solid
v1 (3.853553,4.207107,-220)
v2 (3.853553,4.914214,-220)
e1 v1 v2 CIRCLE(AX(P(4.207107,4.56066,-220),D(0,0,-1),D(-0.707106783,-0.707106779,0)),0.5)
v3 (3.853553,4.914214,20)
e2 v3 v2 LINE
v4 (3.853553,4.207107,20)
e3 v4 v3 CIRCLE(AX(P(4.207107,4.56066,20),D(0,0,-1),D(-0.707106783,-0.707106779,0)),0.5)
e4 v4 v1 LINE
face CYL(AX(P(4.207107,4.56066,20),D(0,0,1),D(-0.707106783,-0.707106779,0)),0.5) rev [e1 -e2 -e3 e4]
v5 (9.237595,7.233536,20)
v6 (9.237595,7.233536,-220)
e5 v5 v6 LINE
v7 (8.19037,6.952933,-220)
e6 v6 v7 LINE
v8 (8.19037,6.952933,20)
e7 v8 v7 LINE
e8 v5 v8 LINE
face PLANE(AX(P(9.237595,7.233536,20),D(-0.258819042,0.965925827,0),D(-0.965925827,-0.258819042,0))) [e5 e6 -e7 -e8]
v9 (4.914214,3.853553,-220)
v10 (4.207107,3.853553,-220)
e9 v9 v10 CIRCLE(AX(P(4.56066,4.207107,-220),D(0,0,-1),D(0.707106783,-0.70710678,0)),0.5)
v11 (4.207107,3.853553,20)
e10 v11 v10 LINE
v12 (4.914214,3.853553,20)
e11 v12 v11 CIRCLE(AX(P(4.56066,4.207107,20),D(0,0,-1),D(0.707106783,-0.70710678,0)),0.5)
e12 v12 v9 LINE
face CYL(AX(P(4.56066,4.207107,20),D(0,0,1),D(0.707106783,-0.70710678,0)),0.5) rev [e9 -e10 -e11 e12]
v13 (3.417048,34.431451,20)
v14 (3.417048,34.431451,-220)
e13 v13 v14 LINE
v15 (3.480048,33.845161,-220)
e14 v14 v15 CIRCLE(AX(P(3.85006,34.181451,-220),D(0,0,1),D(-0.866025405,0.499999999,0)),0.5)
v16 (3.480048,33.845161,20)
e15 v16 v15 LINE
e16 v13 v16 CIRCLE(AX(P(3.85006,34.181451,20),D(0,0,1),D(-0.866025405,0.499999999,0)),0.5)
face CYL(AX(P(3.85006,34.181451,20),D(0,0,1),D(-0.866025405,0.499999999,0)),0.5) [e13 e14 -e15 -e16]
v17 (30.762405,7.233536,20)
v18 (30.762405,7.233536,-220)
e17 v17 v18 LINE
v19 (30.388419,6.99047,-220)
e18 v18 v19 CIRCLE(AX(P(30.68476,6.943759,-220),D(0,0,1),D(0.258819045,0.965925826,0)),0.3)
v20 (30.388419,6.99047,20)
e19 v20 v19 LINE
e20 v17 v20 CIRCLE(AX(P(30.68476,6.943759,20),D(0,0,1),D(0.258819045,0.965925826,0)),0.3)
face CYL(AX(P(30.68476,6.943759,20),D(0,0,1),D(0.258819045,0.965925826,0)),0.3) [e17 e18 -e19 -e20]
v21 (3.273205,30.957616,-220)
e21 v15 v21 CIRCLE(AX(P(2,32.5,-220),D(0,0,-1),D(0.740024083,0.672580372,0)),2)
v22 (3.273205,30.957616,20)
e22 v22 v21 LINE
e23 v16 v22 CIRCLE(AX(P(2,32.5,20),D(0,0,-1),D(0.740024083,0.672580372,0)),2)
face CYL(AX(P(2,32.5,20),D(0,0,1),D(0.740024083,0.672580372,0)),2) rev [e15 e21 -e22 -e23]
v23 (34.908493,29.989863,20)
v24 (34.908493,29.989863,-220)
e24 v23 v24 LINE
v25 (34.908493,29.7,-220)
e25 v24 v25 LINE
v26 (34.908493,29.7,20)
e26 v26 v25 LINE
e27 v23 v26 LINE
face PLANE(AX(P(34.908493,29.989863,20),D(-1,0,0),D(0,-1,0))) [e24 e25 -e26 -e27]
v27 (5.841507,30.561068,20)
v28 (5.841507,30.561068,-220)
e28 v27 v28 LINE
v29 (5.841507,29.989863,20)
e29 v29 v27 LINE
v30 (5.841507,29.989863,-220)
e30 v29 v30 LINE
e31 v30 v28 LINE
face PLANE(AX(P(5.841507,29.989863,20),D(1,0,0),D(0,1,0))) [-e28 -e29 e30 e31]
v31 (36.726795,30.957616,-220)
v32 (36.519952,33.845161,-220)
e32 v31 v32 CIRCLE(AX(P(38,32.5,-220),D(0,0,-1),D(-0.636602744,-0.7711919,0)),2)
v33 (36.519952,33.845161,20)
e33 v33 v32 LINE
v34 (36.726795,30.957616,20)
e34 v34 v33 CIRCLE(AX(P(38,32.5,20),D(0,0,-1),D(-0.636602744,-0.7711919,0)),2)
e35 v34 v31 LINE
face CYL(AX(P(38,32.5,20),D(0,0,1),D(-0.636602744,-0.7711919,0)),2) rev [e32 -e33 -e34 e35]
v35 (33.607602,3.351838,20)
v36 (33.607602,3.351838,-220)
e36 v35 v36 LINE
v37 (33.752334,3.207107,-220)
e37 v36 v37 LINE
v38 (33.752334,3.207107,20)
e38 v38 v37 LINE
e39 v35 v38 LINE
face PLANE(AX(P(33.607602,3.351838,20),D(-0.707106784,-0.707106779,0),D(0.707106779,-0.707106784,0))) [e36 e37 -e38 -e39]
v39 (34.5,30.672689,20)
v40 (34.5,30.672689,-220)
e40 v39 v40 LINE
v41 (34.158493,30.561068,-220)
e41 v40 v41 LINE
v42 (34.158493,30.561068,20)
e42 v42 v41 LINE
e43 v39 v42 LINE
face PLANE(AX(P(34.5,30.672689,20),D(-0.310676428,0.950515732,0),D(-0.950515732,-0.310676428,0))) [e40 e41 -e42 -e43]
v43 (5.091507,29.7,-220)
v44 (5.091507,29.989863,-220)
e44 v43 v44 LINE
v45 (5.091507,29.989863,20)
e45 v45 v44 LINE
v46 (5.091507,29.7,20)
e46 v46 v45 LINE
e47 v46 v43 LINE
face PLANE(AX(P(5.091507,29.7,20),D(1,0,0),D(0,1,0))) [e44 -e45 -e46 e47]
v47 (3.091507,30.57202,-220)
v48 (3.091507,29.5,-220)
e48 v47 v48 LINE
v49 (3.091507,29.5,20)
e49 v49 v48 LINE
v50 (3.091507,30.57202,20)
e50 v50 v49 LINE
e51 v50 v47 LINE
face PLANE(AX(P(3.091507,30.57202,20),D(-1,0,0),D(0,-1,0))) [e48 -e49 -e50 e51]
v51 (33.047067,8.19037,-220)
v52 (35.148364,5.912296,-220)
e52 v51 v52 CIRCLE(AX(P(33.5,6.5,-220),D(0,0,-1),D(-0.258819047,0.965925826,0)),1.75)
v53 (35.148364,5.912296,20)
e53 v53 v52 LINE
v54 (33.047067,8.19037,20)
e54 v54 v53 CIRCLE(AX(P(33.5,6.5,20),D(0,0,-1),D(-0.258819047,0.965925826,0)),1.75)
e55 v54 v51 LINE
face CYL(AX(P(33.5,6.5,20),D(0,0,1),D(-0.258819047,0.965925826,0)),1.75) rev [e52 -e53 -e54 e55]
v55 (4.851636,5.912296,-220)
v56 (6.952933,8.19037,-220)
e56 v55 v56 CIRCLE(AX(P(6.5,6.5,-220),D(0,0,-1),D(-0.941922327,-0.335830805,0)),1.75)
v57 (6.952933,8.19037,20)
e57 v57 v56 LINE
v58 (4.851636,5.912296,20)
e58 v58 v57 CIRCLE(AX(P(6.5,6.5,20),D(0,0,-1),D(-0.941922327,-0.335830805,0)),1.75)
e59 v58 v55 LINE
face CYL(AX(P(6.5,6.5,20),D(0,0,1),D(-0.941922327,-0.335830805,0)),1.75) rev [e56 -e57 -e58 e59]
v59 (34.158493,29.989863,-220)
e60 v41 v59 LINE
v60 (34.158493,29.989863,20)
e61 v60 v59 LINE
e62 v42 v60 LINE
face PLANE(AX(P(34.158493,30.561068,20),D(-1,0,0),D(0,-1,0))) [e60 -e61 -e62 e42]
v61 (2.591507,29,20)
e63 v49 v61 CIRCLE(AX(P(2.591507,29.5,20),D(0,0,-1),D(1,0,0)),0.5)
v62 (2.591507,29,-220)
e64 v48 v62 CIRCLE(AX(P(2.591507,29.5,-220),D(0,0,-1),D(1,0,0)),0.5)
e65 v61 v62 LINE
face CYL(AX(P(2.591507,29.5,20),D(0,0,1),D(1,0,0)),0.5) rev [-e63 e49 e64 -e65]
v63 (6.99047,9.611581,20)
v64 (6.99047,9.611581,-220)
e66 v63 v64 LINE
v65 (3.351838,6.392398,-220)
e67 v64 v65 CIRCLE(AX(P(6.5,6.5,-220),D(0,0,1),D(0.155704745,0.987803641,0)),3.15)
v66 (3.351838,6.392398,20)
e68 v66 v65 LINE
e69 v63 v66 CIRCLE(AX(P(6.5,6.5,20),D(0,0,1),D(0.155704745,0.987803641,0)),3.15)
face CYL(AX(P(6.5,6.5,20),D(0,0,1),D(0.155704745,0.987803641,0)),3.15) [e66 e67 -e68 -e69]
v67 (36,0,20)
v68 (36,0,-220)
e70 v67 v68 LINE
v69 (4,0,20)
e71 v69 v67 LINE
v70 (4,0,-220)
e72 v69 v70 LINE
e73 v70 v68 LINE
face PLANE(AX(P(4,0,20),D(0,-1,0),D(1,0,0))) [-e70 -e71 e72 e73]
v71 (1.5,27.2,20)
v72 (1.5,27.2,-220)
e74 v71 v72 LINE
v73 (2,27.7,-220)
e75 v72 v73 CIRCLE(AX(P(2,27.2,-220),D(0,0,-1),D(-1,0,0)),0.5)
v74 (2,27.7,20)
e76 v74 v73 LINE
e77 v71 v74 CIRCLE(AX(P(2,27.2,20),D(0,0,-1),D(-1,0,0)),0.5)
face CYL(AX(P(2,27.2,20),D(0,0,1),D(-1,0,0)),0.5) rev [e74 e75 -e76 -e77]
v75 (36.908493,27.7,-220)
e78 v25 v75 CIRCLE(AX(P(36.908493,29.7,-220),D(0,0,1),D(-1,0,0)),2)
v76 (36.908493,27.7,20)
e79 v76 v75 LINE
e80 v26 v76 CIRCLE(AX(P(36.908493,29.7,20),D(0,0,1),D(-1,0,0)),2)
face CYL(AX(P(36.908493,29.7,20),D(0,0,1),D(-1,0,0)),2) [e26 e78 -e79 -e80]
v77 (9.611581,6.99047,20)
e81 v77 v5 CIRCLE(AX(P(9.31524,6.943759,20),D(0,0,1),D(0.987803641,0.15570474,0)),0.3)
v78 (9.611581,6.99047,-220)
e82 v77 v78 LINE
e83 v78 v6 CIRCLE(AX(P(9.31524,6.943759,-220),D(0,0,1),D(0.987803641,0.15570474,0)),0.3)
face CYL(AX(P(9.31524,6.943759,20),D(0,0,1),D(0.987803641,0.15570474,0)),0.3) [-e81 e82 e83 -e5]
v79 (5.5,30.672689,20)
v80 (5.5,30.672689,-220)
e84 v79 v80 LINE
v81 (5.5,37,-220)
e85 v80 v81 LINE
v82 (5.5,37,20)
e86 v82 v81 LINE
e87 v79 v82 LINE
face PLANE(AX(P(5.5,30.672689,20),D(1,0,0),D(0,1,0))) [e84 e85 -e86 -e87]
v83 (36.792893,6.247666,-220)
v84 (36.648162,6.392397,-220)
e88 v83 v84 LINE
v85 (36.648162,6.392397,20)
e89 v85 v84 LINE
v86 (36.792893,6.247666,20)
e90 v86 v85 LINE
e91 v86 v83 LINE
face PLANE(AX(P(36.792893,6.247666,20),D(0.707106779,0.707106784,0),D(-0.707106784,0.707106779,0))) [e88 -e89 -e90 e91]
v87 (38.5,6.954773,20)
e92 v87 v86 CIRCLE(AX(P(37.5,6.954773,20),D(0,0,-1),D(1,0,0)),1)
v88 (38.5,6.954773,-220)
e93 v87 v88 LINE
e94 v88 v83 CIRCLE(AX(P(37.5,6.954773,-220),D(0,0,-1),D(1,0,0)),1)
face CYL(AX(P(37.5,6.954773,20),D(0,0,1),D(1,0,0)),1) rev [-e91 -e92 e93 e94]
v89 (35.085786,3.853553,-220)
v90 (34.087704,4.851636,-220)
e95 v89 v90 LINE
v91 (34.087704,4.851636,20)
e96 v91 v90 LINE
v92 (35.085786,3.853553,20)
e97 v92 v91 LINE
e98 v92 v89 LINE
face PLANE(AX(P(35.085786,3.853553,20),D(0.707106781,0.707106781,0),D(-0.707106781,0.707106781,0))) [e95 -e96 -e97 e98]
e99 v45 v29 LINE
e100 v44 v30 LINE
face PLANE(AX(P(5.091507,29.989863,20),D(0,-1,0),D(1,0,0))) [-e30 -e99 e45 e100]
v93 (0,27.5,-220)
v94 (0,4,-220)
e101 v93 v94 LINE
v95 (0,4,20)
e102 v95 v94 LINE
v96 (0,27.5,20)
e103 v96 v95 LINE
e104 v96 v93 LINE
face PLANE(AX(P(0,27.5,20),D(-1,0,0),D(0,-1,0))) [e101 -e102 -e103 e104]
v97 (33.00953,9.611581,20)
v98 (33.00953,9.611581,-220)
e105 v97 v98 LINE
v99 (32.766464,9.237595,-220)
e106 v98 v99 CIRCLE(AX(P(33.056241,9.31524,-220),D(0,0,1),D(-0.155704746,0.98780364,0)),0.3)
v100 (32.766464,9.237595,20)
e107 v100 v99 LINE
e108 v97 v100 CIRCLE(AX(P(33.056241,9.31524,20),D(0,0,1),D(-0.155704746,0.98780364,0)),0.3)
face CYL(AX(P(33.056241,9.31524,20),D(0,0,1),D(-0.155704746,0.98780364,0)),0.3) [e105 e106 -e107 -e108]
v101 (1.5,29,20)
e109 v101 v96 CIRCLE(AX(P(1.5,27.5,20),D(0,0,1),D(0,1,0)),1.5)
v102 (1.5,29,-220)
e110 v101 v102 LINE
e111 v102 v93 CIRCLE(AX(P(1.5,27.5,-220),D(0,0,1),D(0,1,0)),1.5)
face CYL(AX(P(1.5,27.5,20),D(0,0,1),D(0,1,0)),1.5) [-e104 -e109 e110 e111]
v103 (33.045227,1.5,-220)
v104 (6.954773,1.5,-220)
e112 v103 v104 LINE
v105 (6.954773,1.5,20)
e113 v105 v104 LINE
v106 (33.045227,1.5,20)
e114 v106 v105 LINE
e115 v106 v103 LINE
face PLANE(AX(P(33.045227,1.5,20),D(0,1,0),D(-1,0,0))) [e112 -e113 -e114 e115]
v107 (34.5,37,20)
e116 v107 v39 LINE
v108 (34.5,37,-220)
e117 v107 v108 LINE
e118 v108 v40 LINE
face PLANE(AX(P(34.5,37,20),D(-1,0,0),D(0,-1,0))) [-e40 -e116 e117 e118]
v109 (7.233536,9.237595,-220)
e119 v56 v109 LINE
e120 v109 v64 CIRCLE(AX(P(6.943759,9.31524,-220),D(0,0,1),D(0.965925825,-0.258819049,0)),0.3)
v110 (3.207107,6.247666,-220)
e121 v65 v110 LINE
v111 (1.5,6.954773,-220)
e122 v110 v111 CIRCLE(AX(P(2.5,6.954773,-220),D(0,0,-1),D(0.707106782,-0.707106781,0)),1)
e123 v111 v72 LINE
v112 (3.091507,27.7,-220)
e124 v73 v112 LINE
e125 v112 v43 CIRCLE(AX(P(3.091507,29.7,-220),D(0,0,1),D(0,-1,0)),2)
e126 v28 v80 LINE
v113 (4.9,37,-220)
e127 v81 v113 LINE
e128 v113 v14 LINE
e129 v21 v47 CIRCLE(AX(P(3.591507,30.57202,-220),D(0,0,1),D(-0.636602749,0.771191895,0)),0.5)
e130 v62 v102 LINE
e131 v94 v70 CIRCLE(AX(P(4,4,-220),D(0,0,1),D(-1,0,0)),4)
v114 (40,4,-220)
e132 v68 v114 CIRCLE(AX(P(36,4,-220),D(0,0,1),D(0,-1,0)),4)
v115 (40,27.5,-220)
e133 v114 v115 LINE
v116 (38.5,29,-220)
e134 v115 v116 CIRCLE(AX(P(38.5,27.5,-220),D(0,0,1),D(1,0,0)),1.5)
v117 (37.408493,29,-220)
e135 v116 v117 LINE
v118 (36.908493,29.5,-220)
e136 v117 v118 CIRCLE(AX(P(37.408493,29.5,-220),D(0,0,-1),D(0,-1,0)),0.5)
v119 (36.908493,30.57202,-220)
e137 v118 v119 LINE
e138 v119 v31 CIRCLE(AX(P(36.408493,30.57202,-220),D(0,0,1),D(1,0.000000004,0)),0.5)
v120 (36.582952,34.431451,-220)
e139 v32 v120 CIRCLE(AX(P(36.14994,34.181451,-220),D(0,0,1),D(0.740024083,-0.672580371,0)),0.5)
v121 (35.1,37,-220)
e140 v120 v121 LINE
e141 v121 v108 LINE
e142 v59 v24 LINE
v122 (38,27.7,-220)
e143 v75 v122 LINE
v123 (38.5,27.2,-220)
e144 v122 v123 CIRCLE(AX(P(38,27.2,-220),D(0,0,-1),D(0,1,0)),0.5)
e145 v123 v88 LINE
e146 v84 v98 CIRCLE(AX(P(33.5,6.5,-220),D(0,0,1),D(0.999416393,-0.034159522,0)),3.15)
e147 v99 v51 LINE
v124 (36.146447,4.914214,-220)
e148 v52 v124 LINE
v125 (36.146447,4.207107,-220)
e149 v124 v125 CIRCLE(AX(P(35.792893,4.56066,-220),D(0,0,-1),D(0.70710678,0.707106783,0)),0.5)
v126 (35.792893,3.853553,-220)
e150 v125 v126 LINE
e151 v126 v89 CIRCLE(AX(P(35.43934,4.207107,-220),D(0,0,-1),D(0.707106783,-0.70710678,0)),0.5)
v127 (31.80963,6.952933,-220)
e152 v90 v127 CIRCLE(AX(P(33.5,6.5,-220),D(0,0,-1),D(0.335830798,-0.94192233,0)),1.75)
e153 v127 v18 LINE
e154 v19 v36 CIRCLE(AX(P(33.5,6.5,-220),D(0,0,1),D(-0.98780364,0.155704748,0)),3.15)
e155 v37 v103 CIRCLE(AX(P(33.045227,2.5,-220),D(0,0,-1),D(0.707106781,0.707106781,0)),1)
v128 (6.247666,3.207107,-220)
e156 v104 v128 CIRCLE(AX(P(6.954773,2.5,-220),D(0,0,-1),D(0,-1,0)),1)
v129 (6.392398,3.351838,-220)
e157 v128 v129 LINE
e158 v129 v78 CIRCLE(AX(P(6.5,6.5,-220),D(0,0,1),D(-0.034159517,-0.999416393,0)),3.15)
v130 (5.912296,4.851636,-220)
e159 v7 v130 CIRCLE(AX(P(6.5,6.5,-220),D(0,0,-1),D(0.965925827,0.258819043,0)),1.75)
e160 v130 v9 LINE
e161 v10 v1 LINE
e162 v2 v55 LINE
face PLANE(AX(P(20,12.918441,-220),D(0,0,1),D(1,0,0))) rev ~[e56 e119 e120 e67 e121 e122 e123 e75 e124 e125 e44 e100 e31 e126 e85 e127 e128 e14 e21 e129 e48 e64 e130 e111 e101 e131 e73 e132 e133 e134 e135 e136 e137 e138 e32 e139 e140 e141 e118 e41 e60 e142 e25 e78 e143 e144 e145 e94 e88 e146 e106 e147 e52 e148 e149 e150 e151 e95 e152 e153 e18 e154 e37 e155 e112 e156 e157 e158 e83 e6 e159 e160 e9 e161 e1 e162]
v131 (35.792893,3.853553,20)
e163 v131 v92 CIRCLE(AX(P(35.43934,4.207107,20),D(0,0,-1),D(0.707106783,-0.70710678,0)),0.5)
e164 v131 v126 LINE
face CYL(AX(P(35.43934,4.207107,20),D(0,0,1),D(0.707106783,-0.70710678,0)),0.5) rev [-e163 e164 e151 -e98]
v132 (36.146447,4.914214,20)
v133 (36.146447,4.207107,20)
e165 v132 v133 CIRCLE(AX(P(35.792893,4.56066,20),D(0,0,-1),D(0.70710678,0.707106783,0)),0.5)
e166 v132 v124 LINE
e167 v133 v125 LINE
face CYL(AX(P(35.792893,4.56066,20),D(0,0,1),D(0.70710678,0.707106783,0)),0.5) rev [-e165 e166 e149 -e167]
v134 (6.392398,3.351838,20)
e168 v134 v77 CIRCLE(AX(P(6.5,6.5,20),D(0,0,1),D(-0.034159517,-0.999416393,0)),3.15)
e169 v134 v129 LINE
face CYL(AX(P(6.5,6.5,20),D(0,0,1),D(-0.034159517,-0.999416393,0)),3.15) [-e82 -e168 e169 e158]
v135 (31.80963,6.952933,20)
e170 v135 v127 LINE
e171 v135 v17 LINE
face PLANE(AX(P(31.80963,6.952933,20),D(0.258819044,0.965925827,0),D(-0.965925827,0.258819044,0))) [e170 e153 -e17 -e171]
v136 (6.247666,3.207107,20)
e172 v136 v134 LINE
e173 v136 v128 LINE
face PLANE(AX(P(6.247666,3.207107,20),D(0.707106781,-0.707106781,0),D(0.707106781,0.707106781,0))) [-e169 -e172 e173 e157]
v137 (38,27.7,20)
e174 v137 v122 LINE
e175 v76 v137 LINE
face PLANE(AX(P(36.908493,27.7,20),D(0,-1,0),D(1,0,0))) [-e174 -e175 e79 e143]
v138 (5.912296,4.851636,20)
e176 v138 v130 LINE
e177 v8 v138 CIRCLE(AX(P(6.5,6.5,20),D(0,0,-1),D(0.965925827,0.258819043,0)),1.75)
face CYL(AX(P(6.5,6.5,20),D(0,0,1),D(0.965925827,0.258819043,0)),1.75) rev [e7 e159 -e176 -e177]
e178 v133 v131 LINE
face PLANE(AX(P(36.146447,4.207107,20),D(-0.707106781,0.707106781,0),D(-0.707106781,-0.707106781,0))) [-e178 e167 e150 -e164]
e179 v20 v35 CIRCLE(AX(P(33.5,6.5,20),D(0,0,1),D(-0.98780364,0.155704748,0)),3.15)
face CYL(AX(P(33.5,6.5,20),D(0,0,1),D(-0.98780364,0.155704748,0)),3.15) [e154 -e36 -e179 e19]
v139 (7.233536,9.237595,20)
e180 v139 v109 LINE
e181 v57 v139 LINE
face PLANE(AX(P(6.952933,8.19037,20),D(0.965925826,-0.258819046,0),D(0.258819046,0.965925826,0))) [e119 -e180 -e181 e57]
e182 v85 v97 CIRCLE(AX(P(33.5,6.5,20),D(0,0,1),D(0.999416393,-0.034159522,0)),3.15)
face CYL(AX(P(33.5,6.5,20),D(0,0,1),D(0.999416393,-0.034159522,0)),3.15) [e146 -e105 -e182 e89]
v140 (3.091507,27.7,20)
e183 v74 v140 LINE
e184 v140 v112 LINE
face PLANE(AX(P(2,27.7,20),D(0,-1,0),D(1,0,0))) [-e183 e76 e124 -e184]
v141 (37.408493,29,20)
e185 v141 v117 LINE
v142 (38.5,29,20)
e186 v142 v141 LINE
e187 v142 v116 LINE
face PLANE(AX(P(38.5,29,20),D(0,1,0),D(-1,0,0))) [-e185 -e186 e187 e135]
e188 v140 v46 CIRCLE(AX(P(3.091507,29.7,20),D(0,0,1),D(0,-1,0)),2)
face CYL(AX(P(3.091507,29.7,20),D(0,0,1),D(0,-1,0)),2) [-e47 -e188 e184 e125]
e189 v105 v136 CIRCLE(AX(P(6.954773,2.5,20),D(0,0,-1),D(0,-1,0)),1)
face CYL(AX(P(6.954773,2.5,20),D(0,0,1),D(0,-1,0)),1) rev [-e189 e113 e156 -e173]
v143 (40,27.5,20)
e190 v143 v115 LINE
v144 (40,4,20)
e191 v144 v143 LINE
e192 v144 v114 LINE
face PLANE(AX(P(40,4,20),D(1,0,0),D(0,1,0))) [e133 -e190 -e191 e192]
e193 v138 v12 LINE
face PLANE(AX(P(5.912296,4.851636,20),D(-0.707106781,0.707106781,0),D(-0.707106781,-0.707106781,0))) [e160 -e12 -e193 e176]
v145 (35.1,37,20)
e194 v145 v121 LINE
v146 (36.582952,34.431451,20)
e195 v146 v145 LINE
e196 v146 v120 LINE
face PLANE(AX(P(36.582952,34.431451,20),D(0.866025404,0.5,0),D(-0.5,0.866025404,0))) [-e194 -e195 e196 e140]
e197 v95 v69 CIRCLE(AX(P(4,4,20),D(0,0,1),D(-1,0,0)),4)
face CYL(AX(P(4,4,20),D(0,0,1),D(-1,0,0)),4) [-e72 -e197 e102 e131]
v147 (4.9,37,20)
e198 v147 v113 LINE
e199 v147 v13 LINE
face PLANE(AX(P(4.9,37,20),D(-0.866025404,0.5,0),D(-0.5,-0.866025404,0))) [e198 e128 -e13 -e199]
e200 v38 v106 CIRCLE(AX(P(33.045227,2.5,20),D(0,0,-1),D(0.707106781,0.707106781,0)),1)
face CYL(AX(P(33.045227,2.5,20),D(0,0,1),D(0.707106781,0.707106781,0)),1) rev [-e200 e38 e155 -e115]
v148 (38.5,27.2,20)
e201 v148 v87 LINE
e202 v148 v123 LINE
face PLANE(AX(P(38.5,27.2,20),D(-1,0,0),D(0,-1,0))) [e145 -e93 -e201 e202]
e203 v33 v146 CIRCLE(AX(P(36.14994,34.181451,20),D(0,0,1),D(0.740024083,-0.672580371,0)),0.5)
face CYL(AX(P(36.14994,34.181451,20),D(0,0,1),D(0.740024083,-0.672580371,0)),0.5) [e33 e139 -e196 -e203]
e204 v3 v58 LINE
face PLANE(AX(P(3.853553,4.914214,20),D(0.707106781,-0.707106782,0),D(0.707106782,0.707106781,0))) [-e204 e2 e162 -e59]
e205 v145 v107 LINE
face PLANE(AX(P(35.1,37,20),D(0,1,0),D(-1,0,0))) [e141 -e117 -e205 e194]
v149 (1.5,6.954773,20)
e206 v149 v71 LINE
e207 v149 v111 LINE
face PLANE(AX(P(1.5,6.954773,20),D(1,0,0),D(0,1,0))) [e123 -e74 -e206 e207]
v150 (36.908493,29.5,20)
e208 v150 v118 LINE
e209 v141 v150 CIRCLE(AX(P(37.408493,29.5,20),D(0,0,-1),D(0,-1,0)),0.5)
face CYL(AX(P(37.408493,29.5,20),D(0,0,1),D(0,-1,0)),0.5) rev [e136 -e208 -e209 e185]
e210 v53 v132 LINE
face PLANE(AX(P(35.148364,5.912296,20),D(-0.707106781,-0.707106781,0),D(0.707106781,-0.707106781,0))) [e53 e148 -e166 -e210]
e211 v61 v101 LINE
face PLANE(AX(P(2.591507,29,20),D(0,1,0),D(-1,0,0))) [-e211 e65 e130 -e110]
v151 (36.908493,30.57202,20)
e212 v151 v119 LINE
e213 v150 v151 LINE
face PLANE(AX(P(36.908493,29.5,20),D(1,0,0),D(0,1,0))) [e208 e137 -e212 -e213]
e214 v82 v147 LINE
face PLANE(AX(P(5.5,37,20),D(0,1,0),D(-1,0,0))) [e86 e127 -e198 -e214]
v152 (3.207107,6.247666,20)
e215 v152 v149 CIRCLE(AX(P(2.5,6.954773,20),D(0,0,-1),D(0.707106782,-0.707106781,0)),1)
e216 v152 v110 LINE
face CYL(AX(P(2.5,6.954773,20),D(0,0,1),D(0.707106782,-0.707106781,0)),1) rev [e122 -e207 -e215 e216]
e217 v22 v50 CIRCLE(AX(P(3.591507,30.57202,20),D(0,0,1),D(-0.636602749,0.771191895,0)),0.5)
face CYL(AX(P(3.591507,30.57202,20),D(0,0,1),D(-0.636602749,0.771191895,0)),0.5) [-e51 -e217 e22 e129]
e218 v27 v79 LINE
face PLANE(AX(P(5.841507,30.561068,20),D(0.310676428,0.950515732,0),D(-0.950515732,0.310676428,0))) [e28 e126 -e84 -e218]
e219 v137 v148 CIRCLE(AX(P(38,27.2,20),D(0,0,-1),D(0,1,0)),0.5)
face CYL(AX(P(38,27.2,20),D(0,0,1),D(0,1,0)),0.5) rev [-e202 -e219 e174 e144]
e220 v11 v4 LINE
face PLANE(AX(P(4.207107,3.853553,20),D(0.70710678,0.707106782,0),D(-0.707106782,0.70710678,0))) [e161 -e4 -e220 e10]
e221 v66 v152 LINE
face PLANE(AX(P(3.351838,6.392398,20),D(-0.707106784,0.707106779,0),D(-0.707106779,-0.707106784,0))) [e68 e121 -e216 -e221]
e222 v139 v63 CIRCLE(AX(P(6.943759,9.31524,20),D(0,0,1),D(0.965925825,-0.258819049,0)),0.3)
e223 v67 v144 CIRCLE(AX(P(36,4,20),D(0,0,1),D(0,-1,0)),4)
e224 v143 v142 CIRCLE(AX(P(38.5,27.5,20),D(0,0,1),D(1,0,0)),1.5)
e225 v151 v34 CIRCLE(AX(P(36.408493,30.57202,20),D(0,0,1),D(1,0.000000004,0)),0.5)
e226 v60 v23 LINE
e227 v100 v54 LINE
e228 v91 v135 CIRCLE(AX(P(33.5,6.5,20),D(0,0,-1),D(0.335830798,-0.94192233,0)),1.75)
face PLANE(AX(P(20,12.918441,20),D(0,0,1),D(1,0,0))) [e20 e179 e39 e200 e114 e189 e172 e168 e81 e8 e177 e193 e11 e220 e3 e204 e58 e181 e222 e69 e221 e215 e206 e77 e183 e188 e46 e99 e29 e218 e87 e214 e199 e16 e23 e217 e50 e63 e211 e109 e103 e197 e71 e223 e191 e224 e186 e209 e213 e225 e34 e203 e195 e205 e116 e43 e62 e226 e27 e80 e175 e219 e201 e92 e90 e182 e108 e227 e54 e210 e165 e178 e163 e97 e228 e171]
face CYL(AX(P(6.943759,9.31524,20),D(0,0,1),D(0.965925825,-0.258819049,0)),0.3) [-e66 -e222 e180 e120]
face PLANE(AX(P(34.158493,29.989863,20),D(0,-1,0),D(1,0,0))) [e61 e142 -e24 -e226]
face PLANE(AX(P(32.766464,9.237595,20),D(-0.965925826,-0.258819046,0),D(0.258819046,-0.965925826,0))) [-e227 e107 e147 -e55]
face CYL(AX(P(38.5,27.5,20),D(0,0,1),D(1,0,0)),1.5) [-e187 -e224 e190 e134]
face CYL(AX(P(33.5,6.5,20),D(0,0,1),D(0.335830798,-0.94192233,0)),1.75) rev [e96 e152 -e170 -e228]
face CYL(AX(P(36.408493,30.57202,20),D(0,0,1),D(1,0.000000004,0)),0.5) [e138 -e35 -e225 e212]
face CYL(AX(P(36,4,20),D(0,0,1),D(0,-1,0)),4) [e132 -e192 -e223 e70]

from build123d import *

# Parameters (mm, degrees)
BOSS_EXTRUDE1_DEPTH = 240


with BuildPart() as part:
    # Sketch1 → Boss-Extrude1 (new body)
    with BuildSketch(Plane.XY.offset(20)):
        with BuildLine():
            Line((4, 0), (36, 0))
            ThreePointArc((36, 0), (38.828427125, 1.171572875), (40, 4))
            Line((40, 4), (40, 27.499999994))
            ThreePointArc((40, 27.499999994), (39.56066017, 28.56066017), (38.499999994, 29))
            Line((38.499999994, 29), (37.408493132, 29))
            ThreePointArc((37.408493132, 29), (37.05493974, 29.14644661), (36.90849313, 29.500000002))
            Line((36.90849313, 29.500000002), (36.90849313, 30.572020267))
            ThreePointArc((36.90849313, 30.572020267), (36.86079319, 30.785150869), (36.726794508, 30.957616203))
            ThreePointArc((36.726794508, 30.957616203), (36.005111578, 32.357100716), (36.519951827, 33.845160752))
            ThreePointArc((36.519951827, 33.845160752), (36.647077826, 34.128030253), (36.582952488, 34.431450944))
            Line((36.582952488, 34.431450944), (35.099999998, 37.000000001))
            Line((35.099999998, 37.000000001), (34.500000002, 37.000000001))
            Line((34.500000002, 37.000000001), (34.500000002, 30.672689193))
            Line((34.500000002, 30.672689193), (34.158493132, 30.561067543))
            Line((34.158493132, 30.561067543), (34.158493132, 29.989862813))
            Line((34.158493132, 29.989862813), (34.908493132, 29.989862813))
            Line((34.908493132, 29.989862813), (34.908493132, 29.700000011))
            ThreePointArc((34.908493132, 29.700000011), (35.494279572, 28.285786443), (36.908493141, 27.700000003))
            Line((36.908493141, 27.700000003), (38.000000017, 27.700000003))
            ThreePointArc((38.000000017, 27.700000003), (38.353553409, 27.553553393), (38.500000019, 27.200000001))
            Line((38.500000019, 27.200000001), (38.500000019, 6.9547727))
            ThreePointArc((38.500000019, 6.9547727), (37.882683451, 6.030893167), (36.792893237, 6.247665919))
            Line((36.792893237, 6.247665919), (36.648161659, 6.392397496))
            ThreePointArc((36.648161659, 6.392397496), (35.587251229, 8.859212237), (33.009530056, 9.611581471))
            ThreePointArc((33.009530056, 9.611581471), (32.804700675, 9.478725012), (32.766463725, 9.237594653))
            Line((32.766463725, 9.237594653), (33.047066675, 8.190370192))
            ThreePointArc((33.047066675, 8.190370192), (34.786339421, 7.686520507), (35.148364083, 5.912296075))
            Line((35.148364083, 5.912296075), (36.146446608, 4.91421355))
            ThreePointArc((36.146446608, 4.91421355), (36.292893217, 4.560660161), (36.146446608, 4.207106773))
            Line((36.146446608, 4.207106773), (35.792893214, 3.853553379))
            ThreePointArc((35.792893214, 3.853553379), (35.439339826, 3.70710677), (35.085786437, 3.853553379))
            Line((35.085786437, 3.853553379), (34.087703906, 4.85163591))
            ThreePointArc((34.087703906, 4.85163591), (32.313479487, 5.213660585), (31.809629807, 6.952933321))
            Line((31.809629807, 6.952933321), (30.762405333, 7.233536272))
            ThreePointArc((30.762405333, 7.233536272), (30.521274984, 7.195299323), (30.38841853, 6.990469949))
            ThreePointArc((30.38841853, 6.990469949), (31.140787752, 4.412748784), (33.607602477, 3.351838341))
            Line((33.607602477, 3.351838341), (33.752334032, 3.207106785))
            ThreePointArc((33.752334032, 3.207106785), (33.969106782, 2.117316579), (33.045227255, 1.500000015))
            Line((33.045227255, 1.500000015), (6.954772716, 1.500000015))
            ThreePointArc((6.954772716, 1.500000015), (6.030893183, 2.117316583), (6.247665934, 3.207106797))
            Line((6.247665934, 3.207106797), (6.392397512, 3.351838375))
            ThreePointArc((6.392397512, 3.351838375), (8.859212224, 4.412748803), (9.611581449, 6.990469949))
            ThreePointArc((9.611581449, 6.990469949), (9.478724996, 7.195299323), (9.237594646, 7.233536272))
            Line((9.237594646, 7.233536272), (8.190370187, 6.952933328))
            ThreePointArc((8.190370187, 6.952933328), (7.686520502, 5.213660596), (5.912296085, 4.851635932))
            Line((5.912296085, 4.851635932), (4.914213553, 3.8535534))
            ThreePointArc((4.914213553, 3.8535534), (4.560660164, 3.707106791), (4.207106776, 3.8535534))
            Line((4.207106776, 3.8535534), (3.853553388, 4.207106787))
            ThreePointArc((3.853553388, 4.207106787), (3.70710678, 4.560660175), (3.853553388, 4.914213564))
            Line((3.853553388, 4.914213564), (4.85163592, 5.912296095))
            ThreePointArc((4.85163592, 5.912296095), (5.213660585, 7.686520517), (6.952933322, 8.190370198))
            Line((6.952933322, 8.190370198), (7.233536268, 9.237594644))
            ThreePointArc((7.233536268, 9.237594644), (7.195299318, 9.478725003), (6.990469936, 9.611581462))
            ThreePointArc((6.990469936, 9.611581462), (4.412748785, 8.859212233), (3.351838362, 6.392397513))
            Line((3.351838362, 6.392397513), (3.207106785, 6.247665935))
            ThreePointArc((3.207106785, 6.247665935), (2.11731657, 6.030893183), (1.500000002, 6.954772717))
            Line((1.500000002, 6.954772717), (1.500000002, 27.200000001))
            ThreePointArc((1.500000002, 27.200000001), (1.646446612, 27.553553393), (2.000000004, 27.700000003))
            Line((2.000000004, 27.700000003), (3.091506864, 27.700000003))
            ThreePointArc((3.091506864, 27.700000003), (4.505720432, 28.285786443), (5.091506872, 29.700000011))
            Line((5.091506872, 29.700000011), (5.091506872, 29.989862813))
            Line((5.091506872, 29.989862813), (5.841506868, 29.989862813))
            Line((5.841506868, 29.989862813), (5.841506868, 30.561067541))
            Line((5.841506868, 30.561067541), (5.499999998, 30.672689191))
            Line((5.499999998, 30.672689191), (5.499999998, 37.000000001))
            Line((5.499999998, 37.000000001), (4.899999998, 37.000000001))
            Line((4.899999998, 37.000000001), (3.417047508, 34.431450944))
            ThreePointArc((3.417047508, 34.431450944), (3.35292217, 34.128030253), (3.480048169, 33.845160751))
            ThreePointArc((3.480048169, 33.845160751), (3.99488842, 32.357100716), (3.273205491, 30.957616203))
            ThreePointArc((3.273205491, 30.957616203), (3.13920681, 30.785150869), (3.09150687, 30.572020267))
            Line((3.09150687, 30.572020267), (3.09150687, 29.500000002))
            ThreePointArc((3.09150687, 29.500000002), (2.94506026, 29.14644661), (2.591506868, 29))
            Line((2.591506868, 29), (1.500000006, 29))
            ThreePointArc((1.500000006, 29), (0.43933983, 28.56066017), (0, 27.499999994))
            Line((0, 27.499999994), (0, 4))
            ThreePointArc((0, 4), (1.171572875, 1.171572875), (4, 0))
        make_face()
    extrude(amount=-BOSS_EXTRUDE1_DEPTH)


solid = part.part
